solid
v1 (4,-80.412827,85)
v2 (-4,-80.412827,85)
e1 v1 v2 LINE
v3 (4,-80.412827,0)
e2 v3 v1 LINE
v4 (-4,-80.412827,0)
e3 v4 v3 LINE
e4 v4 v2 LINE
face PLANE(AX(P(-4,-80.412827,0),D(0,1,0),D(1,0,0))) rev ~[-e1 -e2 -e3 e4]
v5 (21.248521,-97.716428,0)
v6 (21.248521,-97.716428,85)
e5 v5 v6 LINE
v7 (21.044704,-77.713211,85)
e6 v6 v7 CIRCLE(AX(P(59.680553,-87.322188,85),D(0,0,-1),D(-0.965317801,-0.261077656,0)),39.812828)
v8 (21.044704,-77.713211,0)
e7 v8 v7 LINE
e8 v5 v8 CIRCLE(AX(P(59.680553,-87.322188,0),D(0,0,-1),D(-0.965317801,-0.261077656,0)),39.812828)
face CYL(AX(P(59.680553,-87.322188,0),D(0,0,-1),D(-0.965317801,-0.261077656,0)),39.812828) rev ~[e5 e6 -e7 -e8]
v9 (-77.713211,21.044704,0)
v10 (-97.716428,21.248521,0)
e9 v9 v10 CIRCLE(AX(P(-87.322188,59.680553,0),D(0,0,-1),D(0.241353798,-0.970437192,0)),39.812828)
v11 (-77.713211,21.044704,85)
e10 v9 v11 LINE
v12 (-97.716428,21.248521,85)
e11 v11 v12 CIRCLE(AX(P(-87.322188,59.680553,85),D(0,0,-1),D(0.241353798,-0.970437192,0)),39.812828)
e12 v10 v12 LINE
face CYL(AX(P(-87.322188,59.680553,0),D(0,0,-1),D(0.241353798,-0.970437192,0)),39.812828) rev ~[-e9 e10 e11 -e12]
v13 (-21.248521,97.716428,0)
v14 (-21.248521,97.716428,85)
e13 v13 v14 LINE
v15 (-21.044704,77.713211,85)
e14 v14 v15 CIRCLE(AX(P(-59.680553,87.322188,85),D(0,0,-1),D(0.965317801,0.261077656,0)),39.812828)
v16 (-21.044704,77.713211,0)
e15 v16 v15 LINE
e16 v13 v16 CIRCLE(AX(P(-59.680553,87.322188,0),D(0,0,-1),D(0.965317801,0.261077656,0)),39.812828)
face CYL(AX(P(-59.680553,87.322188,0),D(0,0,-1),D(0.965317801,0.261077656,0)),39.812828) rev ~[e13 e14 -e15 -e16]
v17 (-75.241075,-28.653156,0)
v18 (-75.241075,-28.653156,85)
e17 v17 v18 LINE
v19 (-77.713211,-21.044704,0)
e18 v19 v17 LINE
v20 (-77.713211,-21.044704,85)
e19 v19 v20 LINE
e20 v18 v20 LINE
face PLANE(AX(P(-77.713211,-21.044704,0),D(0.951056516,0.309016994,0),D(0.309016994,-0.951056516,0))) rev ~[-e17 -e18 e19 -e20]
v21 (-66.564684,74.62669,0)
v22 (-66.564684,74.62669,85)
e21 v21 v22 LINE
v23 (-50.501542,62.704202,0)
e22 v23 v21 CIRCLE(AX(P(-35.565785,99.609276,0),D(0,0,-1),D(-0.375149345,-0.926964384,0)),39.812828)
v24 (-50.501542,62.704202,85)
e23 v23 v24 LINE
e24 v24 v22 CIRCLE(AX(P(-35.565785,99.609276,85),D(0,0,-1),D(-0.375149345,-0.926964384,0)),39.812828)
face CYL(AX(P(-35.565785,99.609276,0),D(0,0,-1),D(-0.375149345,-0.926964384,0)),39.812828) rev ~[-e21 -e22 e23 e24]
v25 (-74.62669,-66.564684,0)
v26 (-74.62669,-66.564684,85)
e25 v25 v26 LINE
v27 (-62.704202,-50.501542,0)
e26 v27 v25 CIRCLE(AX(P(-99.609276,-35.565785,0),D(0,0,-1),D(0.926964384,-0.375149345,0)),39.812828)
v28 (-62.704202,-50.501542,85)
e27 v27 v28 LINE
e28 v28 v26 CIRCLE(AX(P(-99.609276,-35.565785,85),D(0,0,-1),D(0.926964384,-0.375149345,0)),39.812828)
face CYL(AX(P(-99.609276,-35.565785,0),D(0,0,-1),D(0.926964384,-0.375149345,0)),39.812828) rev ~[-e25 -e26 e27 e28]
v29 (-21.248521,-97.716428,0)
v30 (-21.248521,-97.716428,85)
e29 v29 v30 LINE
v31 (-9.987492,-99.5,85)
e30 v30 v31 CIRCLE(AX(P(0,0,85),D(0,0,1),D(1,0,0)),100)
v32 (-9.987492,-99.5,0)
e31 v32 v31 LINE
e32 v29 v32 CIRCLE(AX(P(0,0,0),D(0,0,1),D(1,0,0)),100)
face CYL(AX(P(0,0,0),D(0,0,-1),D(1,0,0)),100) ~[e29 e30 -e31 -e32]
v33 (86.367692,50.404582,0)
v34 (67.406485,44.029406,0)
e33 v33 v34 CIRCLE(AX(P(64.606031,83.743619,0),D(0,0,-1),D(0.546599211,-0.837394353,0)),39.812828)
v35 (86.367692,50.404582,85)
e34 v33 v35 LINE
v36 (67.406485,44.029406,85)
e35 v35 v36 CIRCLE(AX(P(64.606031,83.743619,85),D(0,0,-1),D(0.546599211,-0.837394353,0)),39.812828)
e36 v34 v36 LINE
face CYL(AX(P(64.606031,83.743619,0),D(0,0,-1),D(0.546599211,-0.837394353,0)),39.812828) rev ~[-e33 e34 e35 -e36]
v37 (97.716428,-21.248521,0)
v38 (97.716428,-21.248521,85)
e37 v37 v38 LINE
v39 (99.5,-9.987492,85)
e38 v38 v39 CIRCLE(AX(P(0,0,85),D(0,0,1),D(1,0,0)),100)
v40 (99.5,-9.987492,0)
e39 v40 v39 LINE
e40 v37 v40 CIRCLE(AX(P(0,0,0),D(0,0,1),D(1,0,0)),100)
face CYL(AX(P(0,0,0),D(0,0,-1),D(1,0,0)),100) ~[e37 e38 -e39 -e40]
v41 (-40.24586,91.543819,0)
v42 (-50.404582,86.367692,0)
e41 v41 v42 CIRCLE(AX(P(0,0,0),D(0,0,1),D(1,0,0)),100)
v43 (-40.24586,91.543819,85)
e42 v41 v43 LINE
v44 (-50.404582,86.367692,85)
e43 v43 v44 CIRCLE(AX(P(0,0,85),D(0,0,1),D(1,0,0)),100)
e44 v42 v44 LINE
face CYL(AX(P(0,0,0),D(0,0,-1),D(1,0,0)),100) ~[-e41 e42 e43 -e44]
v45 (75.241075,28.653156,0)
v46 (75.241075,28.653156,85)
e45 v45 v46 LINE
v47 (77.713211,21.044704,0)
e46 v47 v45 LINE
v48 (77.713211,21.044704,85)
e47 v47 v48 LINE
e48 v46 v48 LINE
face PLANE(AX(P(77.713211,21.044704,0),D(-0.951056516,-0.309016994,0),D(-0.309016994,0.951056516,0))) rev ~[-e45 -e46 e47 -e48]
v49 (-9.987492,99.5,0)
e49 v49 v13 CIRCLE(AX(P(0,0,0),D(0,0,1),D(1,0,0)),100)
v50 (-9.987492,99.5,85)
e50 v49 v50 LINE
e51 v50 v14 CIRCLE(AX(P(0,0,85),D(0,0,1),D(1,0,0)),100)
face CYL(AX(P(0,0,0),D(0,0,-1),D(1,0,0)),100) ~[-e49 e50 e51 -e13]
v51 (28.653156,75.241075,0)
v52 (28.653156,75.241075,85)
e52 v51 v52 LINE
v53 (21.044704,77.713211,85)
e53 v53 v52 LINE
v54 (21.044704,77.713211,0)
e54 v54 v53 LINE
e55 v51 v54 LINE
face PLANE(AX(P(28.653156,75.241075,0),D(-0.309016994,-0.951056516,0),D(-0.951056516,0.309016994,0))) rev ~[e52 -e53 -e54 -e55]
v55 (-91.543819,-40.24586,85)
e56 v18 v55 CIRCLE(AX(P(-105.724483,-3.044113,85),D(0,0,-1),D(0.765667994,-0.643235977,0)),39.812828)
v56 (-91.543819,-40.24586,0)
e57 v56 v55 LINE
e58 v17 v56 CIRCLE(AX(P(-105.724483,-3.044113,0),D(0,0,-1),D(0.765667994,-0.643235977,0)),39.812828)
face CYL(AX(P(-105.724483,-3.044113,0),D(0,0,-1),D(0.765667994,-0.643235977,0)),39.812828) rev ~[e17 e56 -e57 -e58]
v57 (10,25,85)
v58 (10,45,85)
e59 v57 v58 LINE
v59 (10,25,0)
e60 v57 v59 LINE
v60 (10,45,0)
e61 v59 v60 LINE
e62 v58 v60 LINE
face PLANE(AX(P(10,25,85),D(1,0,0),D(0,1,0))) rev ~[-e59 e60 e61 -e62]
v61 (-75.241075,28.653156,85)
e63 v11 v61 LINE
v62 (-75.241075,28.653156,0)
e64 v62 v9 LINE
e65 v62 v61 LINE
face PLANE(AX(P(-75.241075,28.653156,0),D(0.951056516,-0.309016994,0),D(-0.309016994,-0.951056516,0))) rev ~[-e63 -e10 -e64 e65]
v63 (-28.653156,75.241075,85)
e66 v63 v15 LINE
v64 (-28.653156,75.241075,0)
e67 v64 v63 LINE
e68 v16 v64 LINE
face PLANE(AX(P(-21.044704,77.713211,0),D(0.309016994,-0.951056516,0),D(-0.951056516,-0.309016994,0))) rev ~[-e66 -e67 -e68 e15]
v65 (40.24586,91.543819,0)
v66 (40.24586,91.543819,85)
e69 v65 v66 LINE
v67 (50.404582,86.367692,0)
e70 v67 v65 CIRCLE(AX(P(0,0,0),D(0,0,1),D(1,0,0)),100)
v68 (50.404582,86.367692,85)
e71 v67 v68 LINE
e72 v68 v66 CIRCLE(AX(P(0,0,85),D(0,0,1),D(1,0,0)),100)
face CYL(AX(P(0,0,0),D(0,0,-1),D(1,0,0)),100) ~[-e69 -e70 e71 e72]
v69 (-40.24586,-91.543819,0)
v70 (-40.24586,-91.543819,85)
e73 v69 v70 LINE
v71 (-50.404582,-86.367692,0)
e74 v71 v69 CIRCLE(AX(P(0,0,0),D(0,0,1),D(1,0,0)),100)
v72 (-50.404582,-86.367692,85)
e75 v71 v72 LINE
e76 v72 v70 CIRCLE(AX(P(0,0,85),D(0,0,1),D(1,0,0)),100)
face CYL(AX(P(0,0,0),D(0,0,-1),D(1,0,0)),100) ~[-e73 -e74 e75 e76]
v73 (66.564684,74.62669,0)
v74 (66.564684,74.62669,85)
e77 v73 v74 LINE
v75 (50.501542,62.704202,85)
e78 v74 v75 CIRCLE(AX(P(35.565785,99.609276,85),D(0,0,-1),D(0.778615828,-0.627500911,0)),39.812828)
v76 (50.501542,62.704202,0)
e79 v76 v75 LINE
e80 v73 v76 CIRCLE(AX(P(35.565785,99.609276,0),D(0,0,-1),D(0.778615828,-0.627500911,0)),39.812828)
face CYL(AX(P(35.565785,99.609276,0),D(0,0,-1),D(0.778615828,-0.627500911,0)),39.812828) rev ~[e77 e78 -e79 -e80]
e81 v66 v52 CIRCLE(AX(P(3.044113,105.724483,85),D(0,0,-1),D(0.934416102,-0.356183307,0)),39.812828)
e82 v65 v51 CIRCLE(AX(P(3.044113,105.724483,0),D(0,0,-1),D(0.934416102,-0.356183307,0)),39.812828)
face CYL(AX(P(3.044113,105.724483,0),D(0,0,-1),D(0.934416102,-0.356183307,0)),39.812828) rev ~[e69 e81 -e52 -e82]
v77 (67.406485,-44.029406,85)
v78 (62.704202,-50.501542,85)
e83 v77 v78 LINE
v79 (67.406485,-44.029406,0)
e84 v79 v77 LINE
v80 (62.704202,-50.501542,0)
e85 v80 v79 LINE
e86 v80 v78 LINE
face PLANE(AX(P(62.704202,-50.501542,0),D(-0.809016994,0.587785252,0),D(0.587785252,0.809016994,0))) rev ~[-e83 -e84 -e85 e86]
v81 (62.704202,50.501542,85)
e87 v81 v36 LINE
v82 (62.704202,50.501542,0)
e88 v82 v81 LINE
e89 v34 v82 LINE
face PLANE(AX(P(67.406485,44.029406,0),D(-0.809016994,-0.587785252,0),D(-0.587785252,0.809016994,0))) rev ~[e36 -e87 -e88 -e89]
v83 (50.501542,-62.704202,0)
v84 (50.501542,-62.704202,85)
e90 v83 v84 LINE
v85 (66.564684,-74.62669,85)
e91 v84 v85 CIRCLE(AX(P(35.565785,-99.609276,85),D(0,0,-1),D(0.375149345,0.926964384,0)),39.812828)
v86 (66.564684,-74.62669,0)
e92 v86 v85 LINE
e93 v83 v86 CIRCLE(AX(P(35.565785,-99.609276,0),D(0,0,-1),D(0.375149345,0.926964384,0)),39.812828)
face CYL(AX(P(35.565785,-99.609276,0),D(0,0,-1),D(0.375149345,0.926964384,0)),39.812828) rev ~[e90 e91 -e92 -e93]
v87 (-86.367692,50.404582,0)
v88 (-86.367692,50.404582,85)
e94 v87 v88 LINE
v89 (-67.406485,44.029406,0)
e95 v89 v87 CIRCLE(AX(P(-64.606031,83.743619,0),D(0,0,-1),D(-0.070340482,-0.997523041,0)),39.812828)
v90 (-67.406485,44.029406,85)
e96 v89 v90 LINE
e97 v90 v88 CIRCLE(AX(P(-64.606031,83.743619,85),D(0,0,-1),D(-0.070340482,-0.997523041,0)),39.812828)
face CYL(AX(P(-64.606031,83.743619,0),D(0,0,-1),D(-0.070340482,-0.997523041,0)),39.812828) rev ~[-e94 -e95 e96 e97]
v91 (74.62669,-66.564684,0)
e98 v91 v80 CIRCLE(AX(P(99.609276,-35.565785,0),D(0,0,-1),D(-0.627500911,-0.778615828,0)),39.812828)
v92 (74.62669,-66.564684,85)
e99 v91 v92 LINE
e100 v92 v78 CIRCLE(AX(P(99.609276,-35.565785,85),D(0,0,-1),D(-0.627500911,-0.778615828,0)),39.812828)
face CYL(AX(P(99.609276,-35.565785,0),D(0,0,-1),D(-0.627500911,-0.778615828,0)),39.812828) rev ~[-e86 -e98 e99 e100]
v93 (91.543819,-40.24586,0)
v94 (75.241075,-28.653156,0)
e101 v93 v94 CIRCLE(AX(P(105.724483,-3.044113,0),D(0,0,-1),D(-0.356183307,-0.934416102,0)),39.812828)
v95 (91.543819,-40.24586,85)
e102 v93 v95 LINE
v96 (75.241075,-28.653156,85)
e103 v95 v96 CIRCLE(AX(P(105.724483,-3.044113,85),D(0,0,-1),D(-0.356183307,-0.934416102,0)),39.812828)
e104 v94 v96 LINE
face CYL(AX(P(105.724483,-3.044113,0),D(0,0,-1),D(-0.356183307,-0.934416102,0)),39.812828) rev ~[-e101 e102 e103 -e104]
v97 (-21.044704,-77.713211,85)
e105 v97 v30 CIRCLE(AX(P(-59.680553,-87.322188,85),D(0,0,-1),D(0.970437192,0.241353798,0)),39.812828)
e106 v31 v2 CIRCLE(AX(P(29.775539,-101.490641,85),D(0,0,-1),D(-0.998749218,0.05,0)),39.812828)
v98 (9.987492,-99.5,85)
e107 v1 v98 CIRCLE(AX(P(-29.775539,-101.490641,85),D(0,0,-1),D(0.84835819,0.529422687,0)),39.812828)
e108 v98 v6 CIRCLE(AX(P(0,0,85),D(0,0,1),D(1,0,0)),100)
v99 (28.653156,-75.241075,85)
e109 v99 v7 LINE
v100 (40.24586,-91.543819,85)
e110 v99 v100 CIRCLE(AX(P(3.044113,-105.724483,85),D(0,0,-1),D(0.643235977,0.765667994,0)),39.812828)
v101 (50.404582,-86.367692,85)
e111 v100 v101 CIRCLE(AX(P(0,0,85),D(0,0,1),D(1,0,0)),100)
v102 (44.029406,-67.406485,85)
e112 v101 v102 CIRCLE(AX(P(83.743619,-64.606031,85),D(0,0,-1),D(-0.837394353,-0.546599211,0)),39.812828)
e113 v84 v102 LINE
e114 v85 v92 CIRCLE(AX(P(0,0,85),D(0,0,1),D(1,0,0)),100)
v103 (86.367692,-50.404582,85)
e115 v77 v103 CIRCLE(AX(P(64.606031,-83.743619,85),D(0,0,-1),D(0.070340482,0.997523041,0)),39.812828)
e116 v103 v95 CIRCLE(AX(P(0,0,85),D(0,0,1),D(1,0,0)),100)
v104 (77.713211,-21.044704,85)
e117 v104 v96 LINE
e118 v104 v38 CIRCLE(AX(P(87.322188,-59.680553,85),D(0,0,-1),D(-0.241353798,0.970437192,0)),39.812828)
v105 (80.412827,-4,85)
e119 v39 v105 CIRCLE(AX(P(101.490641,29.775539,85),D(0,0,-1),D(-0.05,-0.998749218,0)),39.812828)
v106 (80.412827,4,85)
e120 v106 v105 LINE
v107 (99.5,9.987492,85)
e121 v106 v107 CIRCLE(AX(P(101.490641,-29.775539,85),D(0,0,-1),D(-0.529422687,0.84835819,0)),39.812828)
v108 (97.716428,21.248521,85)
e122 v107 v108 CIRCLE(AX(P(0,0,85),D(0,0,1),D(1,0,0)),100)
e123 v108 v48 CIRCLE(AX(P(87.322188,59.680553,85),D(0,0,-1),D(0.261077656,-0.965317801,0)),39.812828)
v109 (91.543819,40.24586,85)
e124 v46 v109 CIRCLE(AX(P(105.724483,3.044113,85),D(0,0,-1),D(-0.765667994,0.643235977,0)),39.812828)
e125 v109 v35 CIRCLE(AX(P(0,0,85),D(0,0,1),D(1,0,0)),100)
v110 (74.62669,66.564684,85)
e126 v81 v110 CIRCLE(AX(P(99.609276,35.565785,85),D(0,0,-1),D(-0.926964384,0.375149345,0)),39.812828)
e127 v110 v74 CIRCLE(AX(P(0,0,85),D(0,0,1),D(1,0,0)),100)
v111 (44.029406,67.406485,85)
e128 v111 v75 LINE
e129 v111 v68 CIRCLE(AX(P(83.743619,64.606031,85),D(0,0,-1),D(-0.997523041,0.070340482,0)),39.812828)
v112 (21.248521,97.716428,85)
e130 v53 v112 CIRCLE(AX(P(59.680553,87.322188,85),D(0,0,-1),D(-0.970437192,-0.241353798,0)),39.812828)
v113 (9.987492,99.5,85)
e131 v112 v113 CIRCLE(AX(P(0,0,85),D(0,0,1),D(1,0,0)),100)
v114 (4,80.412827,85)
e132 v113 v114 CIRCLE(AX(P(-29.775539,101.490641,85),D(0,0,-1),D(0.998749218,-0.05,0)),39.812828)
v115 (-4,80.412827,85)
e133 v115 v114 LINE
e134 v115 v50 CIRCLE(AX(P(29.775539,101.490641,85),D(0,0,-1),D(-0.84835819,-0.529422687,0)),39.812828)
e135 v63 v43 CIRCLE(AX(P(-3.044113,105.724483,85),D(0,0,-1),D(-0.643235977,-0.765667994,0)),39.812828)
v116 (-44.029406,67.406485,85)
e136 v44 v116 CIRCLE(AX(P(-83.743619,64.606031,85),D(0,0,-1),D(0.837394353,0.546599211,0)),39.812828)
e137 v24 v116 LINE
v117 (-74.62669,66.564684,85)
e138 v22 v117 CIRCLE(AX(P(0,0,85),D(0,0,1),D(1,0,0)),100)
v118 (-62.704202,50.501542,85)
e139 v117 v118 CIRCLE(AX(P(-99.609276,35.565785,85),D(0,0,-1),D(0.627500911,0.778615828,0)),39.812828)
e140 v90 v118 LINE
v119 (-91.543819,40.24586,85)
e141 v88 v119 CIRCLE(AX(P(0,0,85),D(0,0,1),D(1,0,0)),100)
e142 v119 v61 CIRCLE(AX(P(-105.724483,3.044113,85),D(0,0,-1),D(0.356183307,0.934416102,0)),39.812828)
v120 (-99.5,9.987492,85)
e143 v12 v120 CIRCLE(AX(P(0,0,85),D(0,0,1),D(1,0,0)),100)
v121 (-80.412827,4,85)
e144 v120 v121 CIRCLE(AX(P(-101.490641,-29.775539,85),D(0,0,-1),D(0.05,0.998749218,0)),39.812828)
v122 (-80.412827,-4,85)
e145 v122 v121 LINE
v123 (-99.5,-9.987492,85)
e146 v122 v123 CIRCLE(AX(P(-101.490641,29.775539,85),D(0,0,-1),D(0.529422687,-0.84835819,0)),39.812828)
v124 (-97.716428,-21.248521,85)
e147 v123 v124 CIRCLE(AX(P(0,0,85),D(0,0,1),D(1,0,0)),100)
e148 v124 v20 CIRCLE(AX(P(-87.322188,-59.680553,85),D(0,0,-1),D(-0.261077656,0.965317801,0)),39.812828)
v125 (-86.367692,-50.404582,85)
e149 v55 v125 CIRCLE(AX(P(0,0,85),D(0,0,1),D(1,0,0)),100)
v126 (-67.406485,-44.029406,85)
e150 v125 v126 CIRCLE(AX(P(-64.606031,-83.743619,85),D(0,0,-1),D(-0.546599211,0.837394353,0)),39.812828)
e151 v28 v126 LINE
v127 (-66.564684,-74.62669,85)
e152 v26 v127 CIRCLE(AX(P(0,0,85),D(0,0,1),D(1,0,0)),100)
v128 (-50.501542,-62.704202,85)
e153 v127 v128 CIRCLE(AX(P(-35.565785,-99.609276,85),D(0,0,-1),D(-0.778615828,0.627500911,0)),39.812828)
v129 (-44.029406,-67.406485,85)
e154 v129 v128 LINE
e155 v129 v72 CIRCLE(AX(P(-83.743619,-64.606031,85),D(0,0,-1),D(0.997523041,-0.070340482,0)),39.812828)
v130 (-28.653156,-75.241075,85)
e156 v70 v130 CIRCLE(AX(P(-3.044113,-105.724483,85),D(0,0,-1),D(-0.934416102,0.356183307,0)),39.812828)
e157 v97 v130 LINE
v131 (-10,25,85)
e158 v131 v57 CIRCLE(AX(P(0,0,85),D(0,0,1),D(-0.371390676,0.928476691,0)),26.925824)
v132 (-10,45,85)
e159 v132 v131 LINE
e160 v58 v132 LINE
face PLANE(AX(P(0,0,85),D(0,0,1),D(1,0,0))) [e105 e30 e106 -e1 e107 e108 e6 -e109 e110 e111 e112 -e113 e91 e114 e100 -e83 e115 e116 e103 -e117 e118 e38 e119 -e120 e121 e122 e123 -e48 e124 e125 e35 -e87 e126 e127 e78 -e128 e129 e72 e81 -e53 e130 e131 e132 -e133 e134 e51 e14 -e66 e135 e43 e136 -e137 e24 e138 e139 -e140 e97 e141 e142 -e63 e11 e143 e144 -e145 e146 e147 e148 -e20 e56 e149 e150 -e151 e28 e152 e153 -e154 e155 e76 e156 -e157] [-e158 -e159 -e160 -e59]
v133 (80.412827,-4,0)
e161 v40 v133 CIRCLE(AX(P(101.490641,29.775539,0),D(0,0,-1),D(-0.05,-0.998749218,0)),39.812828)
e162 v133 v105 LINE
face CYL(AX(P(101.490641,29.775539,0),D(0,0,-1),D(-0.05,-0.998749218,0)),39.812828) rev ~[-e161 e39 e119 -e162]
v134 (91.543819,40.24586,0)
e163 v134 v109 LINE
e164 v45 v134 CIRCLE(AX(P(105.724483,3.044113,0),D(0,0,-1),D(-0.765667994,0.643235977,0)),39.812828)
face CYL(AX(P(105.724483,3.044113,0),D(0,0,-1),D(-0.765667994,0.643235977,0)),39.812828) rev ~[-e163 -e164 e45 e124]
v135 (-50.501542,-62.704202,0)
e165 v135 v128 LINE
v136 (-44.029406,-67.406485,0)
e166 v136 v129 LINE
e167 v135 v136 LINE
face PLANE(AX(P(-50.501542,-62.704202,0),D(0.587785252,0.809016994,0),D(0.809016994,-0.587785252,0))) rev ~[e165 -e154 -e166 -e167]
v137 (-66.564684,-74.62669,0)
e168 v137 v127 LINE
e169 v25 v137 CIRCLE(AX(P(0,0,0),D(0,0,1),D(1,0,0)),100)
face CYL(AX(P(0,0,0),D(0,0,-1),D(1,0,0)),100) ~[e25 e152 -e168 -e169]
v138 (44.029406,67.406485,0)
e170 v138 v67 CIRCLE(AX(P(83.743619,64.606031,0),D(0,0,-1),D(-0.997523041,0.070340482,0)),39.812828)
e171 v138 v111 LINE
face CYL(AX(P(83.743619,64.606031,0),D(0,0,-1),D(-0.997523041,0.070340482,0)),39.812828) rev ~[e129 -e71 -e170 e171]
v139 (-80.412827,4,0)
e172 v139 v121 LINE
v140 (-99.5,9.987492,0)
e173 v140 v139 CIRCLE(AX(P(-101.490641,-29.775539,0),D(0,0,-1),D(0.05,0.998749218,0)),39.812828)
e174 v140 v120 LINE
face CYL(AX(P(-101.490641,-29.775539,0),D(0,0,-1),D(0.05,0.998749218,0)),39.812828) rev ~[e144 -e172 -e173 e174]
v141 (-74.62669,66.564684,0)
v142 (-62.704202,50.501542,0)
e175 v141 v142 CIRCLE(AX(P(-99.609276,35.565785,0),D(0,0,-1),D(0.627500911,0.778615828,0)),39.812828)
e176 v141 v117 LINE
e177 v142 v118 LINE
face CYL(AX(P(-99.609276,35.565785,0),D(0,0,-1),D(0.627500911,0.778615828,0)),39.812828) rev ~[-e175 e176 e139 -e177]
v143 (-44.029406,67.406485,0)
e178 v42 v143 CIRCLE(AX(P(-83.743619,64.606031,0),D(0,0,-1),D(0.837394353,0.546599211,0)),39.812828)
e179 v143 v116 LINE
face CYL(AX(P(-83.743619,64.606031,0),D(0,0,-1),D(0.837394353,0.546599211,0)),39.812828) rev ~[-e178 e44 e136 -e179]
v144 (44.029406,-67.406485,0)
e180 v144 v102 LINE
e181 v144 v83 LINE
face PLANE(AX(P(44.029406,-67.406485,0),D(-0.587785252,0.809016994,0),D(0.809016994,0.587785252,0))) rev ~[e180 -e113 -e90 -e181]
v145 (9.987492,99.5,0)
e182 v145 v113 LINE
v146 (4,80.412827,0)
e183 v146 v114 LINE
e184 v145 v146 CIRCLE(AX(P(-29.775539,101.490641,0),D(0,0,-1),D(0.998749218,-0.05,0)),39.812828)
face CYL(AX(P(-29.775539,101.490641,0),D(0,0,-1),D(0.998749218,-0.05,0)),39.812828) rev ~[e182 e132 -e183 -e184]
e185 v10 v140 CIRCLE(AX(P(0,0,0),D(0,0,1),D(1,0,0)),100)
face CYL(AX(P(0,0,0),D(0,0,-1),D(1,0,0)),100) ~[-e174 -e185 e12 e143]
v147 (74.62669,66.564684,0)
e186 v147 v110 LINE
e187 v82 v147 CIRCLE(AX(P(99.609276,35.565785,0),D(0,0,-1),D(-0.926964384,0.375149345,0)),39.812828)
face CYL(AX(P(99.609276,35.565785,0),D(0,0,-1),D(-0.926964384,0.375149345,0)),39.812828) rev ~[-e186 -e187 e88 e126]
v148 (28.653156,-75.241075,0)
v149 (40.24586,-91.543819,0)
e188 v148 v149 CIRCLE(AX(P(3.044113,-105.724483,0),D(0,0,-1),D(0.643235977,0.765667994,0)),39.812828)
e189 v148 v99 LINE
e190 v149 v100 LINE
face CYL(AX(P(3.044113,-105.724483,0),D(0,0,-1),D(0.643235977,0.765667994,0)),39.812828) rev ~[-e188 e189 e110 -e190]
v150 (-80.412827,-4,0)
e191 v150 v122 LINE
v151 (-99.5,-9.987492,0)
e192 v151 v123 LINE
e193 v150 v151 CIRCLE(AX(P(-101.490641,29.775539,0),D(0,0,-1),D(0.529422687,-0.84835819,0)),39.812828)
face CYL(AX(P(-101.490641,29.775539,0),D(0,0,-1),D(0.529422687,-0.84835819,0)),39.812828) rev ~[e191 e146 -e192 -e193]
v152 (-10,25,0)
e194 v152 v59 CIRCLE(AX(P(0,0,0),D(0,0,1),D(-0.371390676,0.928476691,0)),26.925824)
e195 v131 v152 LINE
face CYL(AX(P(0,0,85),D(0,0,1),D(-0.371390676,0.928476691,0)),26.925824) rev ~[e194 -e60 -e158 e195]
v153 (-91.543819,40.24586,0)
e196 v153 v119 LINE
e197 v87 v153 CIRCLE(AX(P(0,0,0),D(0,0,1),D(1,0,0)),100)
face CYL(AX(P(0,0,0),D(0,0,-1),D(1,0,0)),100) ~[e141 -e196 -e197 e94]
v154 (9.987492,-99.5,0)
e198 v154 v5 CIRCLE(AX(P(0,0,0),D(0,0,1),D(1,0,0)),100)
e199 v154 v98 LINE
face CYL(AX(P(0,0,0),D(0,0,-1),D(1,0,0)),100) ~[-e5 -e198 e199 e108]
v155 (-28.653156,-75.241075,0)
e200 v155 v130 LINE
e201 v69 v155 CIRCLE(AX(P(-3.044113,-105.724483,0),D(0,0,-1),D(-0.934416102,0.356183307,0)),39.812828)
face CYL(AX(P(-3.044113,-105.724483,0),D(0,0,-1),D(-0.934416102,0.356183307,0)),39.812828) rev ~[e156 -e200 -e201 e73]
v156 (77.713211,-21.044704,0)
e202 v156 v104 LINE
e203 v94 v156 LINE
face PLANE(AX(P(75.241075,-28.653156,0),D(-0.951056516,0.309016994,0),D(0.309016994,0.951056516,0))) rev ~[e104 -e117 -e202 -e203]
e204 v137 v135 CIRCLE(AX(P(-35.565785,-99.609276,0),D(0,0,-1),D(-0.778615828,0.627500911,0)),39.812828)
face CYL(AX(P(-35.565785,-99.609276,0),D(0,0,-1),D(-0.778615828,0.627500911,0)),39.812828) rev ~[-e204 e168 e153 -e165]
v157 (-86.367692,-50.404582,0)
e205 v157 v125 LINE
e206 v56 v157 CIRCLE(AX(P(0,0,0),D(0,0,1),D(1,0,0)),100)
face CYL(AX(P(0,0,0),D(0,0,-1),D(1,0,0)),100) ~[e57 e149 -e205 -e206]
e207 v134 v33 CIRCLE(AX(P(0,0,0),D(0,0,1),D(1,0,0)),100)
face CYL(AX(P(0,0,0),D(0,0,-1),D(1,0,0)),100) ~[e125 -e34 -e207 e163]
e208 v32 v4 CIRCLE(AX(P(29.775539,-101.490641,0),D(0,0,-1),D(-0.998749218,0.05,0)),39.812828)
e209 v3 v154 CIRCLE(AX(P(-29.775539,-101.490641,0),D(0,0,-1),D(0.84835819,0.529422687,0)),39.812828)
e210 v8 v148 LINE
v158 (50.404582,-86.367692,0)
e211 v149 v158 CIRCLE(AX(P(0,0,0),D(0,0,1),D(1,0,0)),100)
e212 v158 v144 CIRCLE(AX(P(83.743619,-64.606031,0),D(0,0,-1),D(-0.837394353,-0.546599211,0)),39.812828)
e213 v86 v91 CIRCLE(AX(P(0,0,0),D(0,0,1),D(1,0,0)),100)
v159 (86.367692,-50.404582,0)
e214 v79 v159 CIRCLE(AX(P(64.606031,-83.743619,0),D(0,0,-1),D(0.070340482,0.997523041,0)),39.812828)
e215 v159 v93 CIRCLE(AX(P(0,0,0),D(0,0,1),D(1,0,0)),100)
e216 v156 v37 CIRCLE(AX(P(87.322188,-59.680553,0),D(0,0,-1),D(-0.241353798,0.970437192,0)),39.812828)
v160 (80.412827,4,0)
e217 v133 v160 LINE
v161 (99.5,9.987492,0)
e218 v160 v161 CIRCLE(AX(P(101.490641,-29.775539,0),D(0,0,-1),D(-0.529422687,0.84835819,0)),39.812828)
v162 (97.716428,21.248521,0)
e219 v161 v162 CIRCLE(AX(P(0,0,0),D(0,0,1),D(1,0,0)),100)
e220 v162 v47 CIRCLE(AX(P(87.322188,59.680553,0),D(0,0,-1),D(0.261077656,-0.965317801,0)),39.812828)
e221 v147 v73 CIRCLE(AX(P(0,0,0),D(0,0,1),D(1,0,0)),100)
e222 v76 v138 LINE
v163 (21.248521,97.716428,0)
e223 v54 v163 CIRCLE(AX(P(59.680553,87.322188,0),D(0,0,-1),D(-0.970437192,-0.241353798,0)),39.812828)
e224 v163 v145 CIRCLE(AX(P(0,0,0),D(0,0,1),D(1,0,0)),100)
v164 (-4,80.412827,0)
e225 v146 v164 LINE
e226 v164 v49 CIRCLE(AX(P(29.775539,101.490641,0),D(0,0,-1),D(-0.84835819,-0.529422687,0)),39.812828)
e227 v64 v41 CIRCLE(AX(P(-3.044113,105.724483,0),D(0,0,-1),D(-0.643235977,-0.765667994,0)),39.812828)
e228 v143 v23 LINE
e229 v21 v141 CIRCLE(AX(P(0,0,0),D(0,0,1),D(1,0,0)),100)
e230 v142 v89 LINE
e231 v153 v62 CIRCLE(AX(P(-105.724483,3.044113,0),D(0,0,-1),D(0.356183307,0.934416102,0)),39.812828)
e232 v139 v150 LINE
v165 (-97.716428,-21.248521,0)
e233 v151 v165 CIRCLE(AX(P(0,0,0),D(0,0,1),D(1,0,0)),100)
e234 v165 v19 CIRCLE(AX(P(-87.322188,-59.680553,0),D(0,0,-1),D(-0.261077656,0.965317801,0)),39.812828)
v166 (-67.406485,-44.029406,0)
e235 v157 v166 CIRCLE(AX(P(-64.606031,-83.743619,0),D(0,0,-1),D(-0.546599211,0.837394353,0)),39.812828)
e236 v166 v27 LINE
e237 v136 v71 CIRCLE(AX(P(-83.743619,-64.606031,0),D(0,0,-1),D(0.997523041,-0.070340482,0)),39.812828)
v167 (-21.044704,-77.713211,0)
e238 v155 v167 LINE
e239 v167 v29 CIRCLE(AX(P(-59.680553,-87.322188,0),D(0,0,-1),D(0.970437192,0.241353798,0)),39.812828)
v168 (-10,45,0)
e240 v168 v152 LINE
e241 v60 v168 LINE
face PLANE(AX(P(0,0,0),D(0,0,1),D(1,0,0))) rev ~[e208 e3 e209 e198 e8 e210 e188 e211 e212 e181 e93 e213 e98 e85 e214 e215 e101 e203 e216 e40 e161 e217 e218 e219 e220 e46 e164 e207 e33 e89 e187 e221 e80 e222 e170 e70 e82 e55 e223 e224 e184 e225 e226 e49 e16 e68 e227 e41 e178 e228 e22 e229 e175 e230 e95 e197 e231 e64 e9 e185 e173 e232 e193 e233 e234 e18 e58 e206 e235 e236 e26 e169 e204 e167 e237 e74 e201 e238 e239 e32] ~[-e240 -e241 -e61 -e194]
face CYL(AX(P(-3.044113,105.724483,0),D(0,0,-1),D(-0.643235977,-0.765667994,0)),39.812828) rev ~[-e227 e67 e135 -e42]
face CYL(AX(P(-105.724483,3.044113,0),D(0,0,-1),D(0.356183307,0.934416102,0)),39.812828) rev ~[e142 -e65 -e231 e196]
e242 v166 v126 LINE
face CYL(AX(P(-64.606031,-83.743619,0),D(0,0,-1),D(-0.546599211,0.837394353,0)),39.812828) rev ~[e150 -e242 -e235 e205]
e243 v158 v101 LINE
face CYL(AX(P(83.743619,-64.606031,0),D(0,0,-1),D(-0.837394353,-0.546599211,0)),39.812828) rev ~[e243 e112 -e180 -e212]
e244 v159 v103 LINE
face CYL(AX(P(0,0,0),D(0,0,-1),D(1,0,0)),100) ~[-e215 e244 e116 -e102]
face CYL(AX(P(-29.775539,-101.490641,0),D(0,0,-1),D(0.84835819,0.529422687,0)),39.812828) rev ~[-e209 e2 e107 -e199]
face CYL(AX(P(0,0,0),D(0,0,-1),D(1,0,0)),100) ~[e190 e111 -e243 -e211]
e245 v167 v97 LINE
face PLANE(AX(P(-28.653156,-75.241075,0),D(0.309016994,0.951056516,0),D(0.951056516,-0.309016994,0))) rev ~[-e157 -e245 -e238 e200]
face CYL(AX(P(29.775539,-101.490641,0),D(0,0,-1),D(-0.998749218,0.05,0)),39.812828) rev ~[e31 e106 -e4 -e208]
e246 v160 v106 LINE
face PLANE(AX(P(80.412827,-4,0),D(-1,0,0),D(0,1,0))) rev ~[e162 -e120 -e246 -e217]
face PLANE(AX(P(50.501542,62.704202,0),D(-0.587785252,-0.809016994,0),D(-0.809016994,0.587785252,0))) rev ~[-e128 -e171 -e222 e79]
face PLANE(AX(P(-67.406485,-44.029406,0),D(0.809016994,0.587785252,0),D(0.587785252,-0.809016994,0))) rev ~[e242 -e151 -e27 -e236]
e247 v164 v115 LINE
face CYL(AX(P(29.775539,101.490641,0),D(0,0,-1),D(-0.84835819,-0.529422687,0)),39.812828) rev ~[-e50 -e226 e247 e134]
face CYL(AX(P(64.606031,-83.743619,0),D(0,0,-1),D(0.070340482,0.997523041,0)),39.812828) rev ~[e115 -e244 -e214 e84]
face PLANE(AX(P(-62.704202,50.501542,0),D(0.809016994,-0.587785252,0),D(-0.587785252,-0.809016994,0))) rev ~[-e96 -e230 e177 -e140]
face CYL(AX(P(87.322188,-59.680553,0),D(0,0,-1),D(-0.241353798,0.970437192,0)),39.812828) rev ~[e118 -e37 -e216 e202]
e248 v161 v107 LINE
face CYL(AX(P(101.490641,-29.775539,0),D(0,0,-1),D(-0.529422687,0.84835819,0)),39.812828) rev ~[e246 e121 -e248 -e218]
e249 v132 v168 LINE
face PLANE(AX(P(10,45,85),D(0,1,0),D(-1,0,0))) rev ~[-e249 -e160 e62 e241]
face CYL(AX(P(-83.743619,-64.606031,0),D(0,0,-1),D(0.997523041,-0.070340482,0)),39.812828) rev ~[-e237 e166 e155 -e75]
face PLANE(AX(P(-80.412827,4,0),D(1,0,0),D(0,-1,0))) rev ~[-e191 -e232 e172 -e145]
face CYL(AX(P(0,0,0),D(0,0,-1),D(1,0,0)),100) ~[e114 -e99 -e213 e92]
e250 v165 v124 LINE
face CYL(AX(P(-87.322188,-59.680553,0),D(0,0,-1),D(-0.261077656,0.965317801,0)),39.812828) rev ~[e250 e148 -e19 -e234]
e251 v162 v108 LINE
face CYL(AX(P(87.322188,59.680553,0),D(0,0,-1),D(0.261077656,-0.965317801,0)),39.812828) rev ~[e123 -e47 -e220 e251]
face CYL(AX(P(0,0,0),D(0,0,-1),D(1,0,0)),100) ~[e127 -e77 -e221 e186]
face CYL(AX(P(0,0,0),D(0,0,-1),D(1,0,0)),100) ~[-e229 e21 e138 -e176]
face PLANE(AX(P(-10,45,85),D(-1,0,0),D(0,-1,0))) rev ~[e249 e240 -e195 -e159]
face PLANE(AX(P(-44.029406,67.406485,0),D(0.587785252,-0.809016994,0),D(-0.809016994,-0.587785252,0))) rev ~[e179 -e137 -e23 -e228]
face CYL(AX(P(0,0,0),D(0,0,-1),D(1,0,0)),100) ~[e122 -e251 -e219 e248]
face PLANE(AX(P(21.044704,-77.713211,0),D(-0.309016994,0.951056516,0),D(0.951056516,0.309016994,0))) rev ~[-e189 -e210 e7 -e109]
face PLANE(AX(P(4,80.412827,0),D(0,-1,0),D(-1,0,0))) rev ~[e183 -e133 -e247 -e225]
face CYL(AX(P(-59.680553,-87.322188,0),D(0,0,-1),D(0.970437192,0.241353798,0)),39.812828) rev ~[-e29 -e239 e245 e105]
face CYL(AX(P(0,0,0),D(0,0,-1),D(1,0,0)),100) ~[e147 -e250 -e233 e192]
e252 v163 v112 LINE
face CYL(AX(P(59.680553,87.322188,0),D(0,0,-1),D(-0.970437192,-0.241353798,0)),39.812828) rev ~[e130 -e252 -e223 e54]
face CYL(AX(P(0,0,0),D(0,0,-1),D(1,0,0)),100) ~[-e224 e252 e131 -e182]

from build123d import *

# Parameters (mm, degrees)
SKETCH1_R           = 100
BOSS_EXTRUDE1_DEPTH = 85
CUT_EXTRUDE2_DEPTH  = 85
CUT_EXTRUDE17_DEPTH = 144


with BuildPart() as part:
    # Sketch1 → Boss-Extrude1 (new body)
    with BuildSketch(Plane.XY):
        Circle(SKETCH1_R)
    extrude(amount=BOSS_EXTRUDE1_DEPTH)

    # Sketch2 → Cut-Extrude2 (cut)
    with BuildSketch(Plane.XY.offset(85)):
        with BuildLine():
            Line((0, 45), (-10, 45))
            Line((-10, 45), (-10, 25))
            ThreePointArc((-10, 25), (0, -26.925824036), (10, 25))
            Line((10, 25), (10, 45))
            Line((10, 45), (0, 45))
        make_face()
    extrude(amount=-CUT_EXTRUDE2_DEPTH, mode=Mode.SUBTRACT)

    # Sketch3 → Cut-Extrude17 (cut)
    with BuildSketch(Plane.XY):
        with BuildLine():
            Line((4, 80.412826854), (-4, 80.412826854))
            ThreePointArc((-4, 80.412826854), (-8.212095444, 89.574227067), (-9.987492178, 99.5))
            ThreePointArc((-9.987492178, 99.5), (0, 110), (9.987492178, 99.5))
            ThreePointArc((9.987492178, 99.5), (8.212095444, 89.574227067), (4, 80.412826854))
        make_face()
        with BuildLine():
            Line((28.653156129, 75.241074996), (21.044703998, 77.713210951))
            ThreePointArc((21.044703998, 77.713210951), (19.869791537, 87.727829396), (21.248521423, 97.716428185))
            ThreePointArc((21.248521423, 97.716428185), (33.991869381, 104.616216792), (40.245860457, 91.543818557))
            ThreePointArc((40.245860457, 91.543818557), (35.490125306, 82.652475292), (28.653156129, 75.241074996))
        make_face()
        with BuildLine():
            Line((50.501541697, 62.704202481), (44.029405742, 67.4064845))
            ThreePointArc((44.029405742, 67.4064845), (46.006684882, 77.294020547), (50.4045817, 86.36769155))
            ThreePointArc((50.4045817, 86.36769155), (64.656377752, 88.991869381), (66.564683506, 74.626690331))
            ThreePointArc((66.564683506, 74.626690331), (59.294134429, 67.640123362), (50.501541697, 62.704202481))
        make_face()
        with BuildLine():
            Line((67.4064845, 44.029405742), (62.704202481, 50.501541697))
            ThreePointArc((62.704202481, 50.501541697), (67.640123362, 59.294134429), (74.626690331, 66.564683506))
            ThreePointArc((74.626690331, 66.564683506), (88.991869381, 64.656377752), (86.36769155, 50.4045817))
            ThreePointArc((86.36769155, 50.4045817), (77.294020547, 46.006684882), (67.4064845, 44.029405742))
        make_face()
        with BuildLine():
            Line((77.713210951, 21.044703998), (75.241074996, 28.653156129))
            ThreePointArc((75.241074996, 28.653156129), (82.652475292, 35.490125306), (91.543818557, 40.245860457))
            ThreePointArc((91.543818557, 40.245860457), (104.616216792, 33.991869381), (97.716428185, 21.248521423))
            ThreePointArc((97.716428185, 21.248521423), (87.727829396, 19.869791537), (77.713210951, 21.044703998))
        make_face()
        with BuildLine():
            Line((80.412826854, -4), (80.412826854, 4))
            ThreePointArc((80.412826854, 4), (89.574227067, 8.212095444), (99.5, 9.987492178))
            ThreePointArc((99.5, 9.987492178), (110, 0), (99.5, -9.987492178))
            ThreePointArc((99.5, -9.987492178), (89.574227067, -8.212095444), (80.412826854, -4))
        make_face()
        with BuildLine():
            Line((75.241074996, -28.653156129), (77.713210951, -21.044703998))
            ThreePointArc((77.713210951, -21.044703998), (87.727829396, -19.869791537), (97.716428185, -21.248521423))
            ThreePointArc((97.716428185, -21.248521423), (104.616216792, -33.991869381), (91.543818557, -40.245860457))
            ThreePointArc((91.543818557, -40.245860457), (82.652475292, -35.490125306), (75.241074996, -28.653156129))
        make_face()
        with BuildLine():
            Line((62.704202481, -50.501541697), (67.4064845, -44.029405742))
            ThreePointArc((67.4064845, -44.029405742), (77.294020547, -46.006684882), (86.36769155, -50.4045817))
            ThreePointArc((86.36769155, -50.4045817), (88.991869381, -64.656377752), (74.626690331, -66.564683506))
            ThreePointArc((74.626690331, -66.564683506), (67.640123362, -59.294134429), (62.704202481, -50.501541697))
        make_face()
        with BuildLine():
            Line((44.029405742, -67.4064845), (50.501541697, -62.704202481))
            ThreePointArc((50.501541697, -62.704202481), (59.294134429, -67.640123362), (66.564683506, -74.626690331))
            ThreePointArc((66.564683506, -74.626690331), (64.656377752, -88.991869381), (50.4045817, -86.36769155))
            ThreePointArc((50.4045817, -86.36769155), (46.006684882, -77.294020547), (44.029405742, -67.4064845))
        make_face()
        with BuildLine():
            Line((21.044703998, -77.713210951), (28.653156129, -75.241074996))
            ThreePointArc((28.653156129, -75.241074996), (35.490125306, -82.652475292), (40.245860457, -91.543818557))
            ThreePointArc((40.245860457, -91.543818557), (33.991869381, -104.616216792), (21.248521423, -97.716428185))
            ThreePointArc((21.248521423, -97.716428185), (19.869791537, -87.727829396), (21.044703998, -77.713210951))
        make_face()
        with BuildLine():
            Line((-4, -80.412826854), (4, -80.412826854))
            ThreePointArc((4, -80.412826854), (8.212095444, -89.574227067), (9.987492178, -99.5))
            ThreePointArc((9.987492178, -99.5), (0, -110), (-9.987492178, -99.5))
            ThreePointArc((-9.987492178, -99.5), (-8.212095444, -89.574227067), (-4, -80.412826854))
        make_face()
        with BuildLine():
            Line((-28.653156129, -75.241074996), (-21.044703998, -77.713210951))
            ThreePointArc((-21.044703998, -77.713210951), (-19.869791537, -87.727829396), (-21.248521423, -97.716428185))
            ThreePointArc((-21.248521423, -97.716428185), (-33.991869381, -104.616216792), (-40.245860457, -91.543818557))
            ThreePointArc((-40.245860457, -91.543818557), (-35.490125306, -82.652475292), (-28.653156129, -75.241074996))
        make_face()
        with BuildLine():
            Line((-50.501541697, -62.704202481), (-44.029405742, -67.4064845))
            ThreePointArc((-44.029405742, -67.4064845), (-46.006684882, -77.294020547), (-50.4045817, -86.36769155))
            ThreePointArc((-50.4045817, -86.36769155), (-64.656377752, -88.991869381), (-66.564683506, -74.626690331))
            ThreePointArc((-66.564683506, -74.626690331), (-59.294134429, -67.640123362), (-50.501541697, -62.704202481))
        make_face()
        with BuildLine():
            Line((-67.4064845, -44.029405742), (-62.704202481, -50.501541697))
            ThreePointArc((-62.704202481, -50.501541697), (-67.640123362, -59.294134429), (-74.626690331, -66.564683506))
            ThreePointArc((-74.626690331, -66.564683506), (-88.991869381, -64.656377752), (-86.36769155, -50.4045817))
            ThreePointArc((-86.36769155, -50.4045817), (-77.294020547, -46.006684882), (-67.4064845, -44.029405742))
        make_face()
        with BuildLine():
            Line((-77.713210951, -21.044703998), (-75.241074996, -28.653156129))
            ThreePointArc((-75.241074996, -28.653156129), (-82.652475292, -35.490125306), (-91.543818557, -40.245860457))
            ThreePointArc((-91.543818557, -40.245860457), (-104.616216792, -33.991869381), (-97.716428185, -21.248521423))
            ThreePointArc((-97.716428185, -21.248521423), (-87.727829396, -19.869791537), (-77.713210951, -21.044703998))
        make_face()
        with BuildLine():
            Line((-80.412826854, 4), (-80.412826854, -4))
            ThreePointArc((-80.412826854, -4), (-89.574227067, -8.212095444), (-99.5, -9.987492178))
            ThreePointArc((-99.5, -9.987492178), (-110, 0), (-99.5, 9.987492178))
            ThreePointArc((-99.5, 9.987492178), (-89.574227067, 8.212095444), (-80.412826854, 4))
        make_face()
        with BuildLine():
            Line((-75.241074996, 28.653156129), (-77.713210951, 21.044703998))
            ThreePointArc((-77.713210951, 21.044703998), (-87.727829396, 19.869791537), (-97.716428185, 21.248521423))
            ThreePointArc((-97.716428185, 21.248521423), (-104.616216792, 33.991869381), (-91.543818557, 40.245860457))
            ThreePointArc((-91.543818557, 40.245860457), (-82.652475292, 35.490125306), (-75.241074996, 28.653156129))
        make_face()
        with BuildLine():
            Line((-62.704202481, 50.501541697), (-67.4064845, 44.029405742))
            ThreePointArc((-67.4064845, 44.029405742), (-77.294020547, 46.006684882), (-86.36769155, 50.4045817))
            ThreePointArc((-86.36769155, 50.4045817), (-88.991869381, 64.656377752), (-74.626690331, 66.564683506))
            ThreePointArc((-74.626690331, 66.564683506), (-67.640123362, 59.294134429), (-62.704202481, 50.501541697))
        make_face()
        with BuildLine():
            Line((-44.029405742, 67.4064845), (-50.501541697, 62.704202481))
            ThreePointArc((-50.501541697, 62.704202481), (-59.294134429, 67.640123362), (-66.564683506, 74.626690331))
            ThreePointArc((-66.564683506, 74.626690331), (-64.656377752, 88.991869381), (-50.4045817, 86.36769155))
            ThreePointArc((-50.4045817, 86.36769155), (-46.006684882, 77.294020547), (-44.029405742, 67.4064845))
        make_face()
        with BuildLine():
            Line((-21.044703998, 77.713210951), (-28.653156129, 75.241074996))
            ThreePointArc((-28.653156129, 75.241074996), (-35.490125306, 82.652475292), (-40.245860457, 91.543818557))
            ThreePointArc((-40.245860457, 91.543818557), (-33.991869381, 104.616216792), (-21.248521423, 97.716428185))
            ThreePointArc((-21.248521423, 97.716428185), (-19.869791537, 87.727829396), (-21.044703998, 77.713210951))
        make_face()
    extrude(amount=CUT_EXTRUDE17_DEPTH, mode=Mode.SUBTRACT)


solid = part.part
